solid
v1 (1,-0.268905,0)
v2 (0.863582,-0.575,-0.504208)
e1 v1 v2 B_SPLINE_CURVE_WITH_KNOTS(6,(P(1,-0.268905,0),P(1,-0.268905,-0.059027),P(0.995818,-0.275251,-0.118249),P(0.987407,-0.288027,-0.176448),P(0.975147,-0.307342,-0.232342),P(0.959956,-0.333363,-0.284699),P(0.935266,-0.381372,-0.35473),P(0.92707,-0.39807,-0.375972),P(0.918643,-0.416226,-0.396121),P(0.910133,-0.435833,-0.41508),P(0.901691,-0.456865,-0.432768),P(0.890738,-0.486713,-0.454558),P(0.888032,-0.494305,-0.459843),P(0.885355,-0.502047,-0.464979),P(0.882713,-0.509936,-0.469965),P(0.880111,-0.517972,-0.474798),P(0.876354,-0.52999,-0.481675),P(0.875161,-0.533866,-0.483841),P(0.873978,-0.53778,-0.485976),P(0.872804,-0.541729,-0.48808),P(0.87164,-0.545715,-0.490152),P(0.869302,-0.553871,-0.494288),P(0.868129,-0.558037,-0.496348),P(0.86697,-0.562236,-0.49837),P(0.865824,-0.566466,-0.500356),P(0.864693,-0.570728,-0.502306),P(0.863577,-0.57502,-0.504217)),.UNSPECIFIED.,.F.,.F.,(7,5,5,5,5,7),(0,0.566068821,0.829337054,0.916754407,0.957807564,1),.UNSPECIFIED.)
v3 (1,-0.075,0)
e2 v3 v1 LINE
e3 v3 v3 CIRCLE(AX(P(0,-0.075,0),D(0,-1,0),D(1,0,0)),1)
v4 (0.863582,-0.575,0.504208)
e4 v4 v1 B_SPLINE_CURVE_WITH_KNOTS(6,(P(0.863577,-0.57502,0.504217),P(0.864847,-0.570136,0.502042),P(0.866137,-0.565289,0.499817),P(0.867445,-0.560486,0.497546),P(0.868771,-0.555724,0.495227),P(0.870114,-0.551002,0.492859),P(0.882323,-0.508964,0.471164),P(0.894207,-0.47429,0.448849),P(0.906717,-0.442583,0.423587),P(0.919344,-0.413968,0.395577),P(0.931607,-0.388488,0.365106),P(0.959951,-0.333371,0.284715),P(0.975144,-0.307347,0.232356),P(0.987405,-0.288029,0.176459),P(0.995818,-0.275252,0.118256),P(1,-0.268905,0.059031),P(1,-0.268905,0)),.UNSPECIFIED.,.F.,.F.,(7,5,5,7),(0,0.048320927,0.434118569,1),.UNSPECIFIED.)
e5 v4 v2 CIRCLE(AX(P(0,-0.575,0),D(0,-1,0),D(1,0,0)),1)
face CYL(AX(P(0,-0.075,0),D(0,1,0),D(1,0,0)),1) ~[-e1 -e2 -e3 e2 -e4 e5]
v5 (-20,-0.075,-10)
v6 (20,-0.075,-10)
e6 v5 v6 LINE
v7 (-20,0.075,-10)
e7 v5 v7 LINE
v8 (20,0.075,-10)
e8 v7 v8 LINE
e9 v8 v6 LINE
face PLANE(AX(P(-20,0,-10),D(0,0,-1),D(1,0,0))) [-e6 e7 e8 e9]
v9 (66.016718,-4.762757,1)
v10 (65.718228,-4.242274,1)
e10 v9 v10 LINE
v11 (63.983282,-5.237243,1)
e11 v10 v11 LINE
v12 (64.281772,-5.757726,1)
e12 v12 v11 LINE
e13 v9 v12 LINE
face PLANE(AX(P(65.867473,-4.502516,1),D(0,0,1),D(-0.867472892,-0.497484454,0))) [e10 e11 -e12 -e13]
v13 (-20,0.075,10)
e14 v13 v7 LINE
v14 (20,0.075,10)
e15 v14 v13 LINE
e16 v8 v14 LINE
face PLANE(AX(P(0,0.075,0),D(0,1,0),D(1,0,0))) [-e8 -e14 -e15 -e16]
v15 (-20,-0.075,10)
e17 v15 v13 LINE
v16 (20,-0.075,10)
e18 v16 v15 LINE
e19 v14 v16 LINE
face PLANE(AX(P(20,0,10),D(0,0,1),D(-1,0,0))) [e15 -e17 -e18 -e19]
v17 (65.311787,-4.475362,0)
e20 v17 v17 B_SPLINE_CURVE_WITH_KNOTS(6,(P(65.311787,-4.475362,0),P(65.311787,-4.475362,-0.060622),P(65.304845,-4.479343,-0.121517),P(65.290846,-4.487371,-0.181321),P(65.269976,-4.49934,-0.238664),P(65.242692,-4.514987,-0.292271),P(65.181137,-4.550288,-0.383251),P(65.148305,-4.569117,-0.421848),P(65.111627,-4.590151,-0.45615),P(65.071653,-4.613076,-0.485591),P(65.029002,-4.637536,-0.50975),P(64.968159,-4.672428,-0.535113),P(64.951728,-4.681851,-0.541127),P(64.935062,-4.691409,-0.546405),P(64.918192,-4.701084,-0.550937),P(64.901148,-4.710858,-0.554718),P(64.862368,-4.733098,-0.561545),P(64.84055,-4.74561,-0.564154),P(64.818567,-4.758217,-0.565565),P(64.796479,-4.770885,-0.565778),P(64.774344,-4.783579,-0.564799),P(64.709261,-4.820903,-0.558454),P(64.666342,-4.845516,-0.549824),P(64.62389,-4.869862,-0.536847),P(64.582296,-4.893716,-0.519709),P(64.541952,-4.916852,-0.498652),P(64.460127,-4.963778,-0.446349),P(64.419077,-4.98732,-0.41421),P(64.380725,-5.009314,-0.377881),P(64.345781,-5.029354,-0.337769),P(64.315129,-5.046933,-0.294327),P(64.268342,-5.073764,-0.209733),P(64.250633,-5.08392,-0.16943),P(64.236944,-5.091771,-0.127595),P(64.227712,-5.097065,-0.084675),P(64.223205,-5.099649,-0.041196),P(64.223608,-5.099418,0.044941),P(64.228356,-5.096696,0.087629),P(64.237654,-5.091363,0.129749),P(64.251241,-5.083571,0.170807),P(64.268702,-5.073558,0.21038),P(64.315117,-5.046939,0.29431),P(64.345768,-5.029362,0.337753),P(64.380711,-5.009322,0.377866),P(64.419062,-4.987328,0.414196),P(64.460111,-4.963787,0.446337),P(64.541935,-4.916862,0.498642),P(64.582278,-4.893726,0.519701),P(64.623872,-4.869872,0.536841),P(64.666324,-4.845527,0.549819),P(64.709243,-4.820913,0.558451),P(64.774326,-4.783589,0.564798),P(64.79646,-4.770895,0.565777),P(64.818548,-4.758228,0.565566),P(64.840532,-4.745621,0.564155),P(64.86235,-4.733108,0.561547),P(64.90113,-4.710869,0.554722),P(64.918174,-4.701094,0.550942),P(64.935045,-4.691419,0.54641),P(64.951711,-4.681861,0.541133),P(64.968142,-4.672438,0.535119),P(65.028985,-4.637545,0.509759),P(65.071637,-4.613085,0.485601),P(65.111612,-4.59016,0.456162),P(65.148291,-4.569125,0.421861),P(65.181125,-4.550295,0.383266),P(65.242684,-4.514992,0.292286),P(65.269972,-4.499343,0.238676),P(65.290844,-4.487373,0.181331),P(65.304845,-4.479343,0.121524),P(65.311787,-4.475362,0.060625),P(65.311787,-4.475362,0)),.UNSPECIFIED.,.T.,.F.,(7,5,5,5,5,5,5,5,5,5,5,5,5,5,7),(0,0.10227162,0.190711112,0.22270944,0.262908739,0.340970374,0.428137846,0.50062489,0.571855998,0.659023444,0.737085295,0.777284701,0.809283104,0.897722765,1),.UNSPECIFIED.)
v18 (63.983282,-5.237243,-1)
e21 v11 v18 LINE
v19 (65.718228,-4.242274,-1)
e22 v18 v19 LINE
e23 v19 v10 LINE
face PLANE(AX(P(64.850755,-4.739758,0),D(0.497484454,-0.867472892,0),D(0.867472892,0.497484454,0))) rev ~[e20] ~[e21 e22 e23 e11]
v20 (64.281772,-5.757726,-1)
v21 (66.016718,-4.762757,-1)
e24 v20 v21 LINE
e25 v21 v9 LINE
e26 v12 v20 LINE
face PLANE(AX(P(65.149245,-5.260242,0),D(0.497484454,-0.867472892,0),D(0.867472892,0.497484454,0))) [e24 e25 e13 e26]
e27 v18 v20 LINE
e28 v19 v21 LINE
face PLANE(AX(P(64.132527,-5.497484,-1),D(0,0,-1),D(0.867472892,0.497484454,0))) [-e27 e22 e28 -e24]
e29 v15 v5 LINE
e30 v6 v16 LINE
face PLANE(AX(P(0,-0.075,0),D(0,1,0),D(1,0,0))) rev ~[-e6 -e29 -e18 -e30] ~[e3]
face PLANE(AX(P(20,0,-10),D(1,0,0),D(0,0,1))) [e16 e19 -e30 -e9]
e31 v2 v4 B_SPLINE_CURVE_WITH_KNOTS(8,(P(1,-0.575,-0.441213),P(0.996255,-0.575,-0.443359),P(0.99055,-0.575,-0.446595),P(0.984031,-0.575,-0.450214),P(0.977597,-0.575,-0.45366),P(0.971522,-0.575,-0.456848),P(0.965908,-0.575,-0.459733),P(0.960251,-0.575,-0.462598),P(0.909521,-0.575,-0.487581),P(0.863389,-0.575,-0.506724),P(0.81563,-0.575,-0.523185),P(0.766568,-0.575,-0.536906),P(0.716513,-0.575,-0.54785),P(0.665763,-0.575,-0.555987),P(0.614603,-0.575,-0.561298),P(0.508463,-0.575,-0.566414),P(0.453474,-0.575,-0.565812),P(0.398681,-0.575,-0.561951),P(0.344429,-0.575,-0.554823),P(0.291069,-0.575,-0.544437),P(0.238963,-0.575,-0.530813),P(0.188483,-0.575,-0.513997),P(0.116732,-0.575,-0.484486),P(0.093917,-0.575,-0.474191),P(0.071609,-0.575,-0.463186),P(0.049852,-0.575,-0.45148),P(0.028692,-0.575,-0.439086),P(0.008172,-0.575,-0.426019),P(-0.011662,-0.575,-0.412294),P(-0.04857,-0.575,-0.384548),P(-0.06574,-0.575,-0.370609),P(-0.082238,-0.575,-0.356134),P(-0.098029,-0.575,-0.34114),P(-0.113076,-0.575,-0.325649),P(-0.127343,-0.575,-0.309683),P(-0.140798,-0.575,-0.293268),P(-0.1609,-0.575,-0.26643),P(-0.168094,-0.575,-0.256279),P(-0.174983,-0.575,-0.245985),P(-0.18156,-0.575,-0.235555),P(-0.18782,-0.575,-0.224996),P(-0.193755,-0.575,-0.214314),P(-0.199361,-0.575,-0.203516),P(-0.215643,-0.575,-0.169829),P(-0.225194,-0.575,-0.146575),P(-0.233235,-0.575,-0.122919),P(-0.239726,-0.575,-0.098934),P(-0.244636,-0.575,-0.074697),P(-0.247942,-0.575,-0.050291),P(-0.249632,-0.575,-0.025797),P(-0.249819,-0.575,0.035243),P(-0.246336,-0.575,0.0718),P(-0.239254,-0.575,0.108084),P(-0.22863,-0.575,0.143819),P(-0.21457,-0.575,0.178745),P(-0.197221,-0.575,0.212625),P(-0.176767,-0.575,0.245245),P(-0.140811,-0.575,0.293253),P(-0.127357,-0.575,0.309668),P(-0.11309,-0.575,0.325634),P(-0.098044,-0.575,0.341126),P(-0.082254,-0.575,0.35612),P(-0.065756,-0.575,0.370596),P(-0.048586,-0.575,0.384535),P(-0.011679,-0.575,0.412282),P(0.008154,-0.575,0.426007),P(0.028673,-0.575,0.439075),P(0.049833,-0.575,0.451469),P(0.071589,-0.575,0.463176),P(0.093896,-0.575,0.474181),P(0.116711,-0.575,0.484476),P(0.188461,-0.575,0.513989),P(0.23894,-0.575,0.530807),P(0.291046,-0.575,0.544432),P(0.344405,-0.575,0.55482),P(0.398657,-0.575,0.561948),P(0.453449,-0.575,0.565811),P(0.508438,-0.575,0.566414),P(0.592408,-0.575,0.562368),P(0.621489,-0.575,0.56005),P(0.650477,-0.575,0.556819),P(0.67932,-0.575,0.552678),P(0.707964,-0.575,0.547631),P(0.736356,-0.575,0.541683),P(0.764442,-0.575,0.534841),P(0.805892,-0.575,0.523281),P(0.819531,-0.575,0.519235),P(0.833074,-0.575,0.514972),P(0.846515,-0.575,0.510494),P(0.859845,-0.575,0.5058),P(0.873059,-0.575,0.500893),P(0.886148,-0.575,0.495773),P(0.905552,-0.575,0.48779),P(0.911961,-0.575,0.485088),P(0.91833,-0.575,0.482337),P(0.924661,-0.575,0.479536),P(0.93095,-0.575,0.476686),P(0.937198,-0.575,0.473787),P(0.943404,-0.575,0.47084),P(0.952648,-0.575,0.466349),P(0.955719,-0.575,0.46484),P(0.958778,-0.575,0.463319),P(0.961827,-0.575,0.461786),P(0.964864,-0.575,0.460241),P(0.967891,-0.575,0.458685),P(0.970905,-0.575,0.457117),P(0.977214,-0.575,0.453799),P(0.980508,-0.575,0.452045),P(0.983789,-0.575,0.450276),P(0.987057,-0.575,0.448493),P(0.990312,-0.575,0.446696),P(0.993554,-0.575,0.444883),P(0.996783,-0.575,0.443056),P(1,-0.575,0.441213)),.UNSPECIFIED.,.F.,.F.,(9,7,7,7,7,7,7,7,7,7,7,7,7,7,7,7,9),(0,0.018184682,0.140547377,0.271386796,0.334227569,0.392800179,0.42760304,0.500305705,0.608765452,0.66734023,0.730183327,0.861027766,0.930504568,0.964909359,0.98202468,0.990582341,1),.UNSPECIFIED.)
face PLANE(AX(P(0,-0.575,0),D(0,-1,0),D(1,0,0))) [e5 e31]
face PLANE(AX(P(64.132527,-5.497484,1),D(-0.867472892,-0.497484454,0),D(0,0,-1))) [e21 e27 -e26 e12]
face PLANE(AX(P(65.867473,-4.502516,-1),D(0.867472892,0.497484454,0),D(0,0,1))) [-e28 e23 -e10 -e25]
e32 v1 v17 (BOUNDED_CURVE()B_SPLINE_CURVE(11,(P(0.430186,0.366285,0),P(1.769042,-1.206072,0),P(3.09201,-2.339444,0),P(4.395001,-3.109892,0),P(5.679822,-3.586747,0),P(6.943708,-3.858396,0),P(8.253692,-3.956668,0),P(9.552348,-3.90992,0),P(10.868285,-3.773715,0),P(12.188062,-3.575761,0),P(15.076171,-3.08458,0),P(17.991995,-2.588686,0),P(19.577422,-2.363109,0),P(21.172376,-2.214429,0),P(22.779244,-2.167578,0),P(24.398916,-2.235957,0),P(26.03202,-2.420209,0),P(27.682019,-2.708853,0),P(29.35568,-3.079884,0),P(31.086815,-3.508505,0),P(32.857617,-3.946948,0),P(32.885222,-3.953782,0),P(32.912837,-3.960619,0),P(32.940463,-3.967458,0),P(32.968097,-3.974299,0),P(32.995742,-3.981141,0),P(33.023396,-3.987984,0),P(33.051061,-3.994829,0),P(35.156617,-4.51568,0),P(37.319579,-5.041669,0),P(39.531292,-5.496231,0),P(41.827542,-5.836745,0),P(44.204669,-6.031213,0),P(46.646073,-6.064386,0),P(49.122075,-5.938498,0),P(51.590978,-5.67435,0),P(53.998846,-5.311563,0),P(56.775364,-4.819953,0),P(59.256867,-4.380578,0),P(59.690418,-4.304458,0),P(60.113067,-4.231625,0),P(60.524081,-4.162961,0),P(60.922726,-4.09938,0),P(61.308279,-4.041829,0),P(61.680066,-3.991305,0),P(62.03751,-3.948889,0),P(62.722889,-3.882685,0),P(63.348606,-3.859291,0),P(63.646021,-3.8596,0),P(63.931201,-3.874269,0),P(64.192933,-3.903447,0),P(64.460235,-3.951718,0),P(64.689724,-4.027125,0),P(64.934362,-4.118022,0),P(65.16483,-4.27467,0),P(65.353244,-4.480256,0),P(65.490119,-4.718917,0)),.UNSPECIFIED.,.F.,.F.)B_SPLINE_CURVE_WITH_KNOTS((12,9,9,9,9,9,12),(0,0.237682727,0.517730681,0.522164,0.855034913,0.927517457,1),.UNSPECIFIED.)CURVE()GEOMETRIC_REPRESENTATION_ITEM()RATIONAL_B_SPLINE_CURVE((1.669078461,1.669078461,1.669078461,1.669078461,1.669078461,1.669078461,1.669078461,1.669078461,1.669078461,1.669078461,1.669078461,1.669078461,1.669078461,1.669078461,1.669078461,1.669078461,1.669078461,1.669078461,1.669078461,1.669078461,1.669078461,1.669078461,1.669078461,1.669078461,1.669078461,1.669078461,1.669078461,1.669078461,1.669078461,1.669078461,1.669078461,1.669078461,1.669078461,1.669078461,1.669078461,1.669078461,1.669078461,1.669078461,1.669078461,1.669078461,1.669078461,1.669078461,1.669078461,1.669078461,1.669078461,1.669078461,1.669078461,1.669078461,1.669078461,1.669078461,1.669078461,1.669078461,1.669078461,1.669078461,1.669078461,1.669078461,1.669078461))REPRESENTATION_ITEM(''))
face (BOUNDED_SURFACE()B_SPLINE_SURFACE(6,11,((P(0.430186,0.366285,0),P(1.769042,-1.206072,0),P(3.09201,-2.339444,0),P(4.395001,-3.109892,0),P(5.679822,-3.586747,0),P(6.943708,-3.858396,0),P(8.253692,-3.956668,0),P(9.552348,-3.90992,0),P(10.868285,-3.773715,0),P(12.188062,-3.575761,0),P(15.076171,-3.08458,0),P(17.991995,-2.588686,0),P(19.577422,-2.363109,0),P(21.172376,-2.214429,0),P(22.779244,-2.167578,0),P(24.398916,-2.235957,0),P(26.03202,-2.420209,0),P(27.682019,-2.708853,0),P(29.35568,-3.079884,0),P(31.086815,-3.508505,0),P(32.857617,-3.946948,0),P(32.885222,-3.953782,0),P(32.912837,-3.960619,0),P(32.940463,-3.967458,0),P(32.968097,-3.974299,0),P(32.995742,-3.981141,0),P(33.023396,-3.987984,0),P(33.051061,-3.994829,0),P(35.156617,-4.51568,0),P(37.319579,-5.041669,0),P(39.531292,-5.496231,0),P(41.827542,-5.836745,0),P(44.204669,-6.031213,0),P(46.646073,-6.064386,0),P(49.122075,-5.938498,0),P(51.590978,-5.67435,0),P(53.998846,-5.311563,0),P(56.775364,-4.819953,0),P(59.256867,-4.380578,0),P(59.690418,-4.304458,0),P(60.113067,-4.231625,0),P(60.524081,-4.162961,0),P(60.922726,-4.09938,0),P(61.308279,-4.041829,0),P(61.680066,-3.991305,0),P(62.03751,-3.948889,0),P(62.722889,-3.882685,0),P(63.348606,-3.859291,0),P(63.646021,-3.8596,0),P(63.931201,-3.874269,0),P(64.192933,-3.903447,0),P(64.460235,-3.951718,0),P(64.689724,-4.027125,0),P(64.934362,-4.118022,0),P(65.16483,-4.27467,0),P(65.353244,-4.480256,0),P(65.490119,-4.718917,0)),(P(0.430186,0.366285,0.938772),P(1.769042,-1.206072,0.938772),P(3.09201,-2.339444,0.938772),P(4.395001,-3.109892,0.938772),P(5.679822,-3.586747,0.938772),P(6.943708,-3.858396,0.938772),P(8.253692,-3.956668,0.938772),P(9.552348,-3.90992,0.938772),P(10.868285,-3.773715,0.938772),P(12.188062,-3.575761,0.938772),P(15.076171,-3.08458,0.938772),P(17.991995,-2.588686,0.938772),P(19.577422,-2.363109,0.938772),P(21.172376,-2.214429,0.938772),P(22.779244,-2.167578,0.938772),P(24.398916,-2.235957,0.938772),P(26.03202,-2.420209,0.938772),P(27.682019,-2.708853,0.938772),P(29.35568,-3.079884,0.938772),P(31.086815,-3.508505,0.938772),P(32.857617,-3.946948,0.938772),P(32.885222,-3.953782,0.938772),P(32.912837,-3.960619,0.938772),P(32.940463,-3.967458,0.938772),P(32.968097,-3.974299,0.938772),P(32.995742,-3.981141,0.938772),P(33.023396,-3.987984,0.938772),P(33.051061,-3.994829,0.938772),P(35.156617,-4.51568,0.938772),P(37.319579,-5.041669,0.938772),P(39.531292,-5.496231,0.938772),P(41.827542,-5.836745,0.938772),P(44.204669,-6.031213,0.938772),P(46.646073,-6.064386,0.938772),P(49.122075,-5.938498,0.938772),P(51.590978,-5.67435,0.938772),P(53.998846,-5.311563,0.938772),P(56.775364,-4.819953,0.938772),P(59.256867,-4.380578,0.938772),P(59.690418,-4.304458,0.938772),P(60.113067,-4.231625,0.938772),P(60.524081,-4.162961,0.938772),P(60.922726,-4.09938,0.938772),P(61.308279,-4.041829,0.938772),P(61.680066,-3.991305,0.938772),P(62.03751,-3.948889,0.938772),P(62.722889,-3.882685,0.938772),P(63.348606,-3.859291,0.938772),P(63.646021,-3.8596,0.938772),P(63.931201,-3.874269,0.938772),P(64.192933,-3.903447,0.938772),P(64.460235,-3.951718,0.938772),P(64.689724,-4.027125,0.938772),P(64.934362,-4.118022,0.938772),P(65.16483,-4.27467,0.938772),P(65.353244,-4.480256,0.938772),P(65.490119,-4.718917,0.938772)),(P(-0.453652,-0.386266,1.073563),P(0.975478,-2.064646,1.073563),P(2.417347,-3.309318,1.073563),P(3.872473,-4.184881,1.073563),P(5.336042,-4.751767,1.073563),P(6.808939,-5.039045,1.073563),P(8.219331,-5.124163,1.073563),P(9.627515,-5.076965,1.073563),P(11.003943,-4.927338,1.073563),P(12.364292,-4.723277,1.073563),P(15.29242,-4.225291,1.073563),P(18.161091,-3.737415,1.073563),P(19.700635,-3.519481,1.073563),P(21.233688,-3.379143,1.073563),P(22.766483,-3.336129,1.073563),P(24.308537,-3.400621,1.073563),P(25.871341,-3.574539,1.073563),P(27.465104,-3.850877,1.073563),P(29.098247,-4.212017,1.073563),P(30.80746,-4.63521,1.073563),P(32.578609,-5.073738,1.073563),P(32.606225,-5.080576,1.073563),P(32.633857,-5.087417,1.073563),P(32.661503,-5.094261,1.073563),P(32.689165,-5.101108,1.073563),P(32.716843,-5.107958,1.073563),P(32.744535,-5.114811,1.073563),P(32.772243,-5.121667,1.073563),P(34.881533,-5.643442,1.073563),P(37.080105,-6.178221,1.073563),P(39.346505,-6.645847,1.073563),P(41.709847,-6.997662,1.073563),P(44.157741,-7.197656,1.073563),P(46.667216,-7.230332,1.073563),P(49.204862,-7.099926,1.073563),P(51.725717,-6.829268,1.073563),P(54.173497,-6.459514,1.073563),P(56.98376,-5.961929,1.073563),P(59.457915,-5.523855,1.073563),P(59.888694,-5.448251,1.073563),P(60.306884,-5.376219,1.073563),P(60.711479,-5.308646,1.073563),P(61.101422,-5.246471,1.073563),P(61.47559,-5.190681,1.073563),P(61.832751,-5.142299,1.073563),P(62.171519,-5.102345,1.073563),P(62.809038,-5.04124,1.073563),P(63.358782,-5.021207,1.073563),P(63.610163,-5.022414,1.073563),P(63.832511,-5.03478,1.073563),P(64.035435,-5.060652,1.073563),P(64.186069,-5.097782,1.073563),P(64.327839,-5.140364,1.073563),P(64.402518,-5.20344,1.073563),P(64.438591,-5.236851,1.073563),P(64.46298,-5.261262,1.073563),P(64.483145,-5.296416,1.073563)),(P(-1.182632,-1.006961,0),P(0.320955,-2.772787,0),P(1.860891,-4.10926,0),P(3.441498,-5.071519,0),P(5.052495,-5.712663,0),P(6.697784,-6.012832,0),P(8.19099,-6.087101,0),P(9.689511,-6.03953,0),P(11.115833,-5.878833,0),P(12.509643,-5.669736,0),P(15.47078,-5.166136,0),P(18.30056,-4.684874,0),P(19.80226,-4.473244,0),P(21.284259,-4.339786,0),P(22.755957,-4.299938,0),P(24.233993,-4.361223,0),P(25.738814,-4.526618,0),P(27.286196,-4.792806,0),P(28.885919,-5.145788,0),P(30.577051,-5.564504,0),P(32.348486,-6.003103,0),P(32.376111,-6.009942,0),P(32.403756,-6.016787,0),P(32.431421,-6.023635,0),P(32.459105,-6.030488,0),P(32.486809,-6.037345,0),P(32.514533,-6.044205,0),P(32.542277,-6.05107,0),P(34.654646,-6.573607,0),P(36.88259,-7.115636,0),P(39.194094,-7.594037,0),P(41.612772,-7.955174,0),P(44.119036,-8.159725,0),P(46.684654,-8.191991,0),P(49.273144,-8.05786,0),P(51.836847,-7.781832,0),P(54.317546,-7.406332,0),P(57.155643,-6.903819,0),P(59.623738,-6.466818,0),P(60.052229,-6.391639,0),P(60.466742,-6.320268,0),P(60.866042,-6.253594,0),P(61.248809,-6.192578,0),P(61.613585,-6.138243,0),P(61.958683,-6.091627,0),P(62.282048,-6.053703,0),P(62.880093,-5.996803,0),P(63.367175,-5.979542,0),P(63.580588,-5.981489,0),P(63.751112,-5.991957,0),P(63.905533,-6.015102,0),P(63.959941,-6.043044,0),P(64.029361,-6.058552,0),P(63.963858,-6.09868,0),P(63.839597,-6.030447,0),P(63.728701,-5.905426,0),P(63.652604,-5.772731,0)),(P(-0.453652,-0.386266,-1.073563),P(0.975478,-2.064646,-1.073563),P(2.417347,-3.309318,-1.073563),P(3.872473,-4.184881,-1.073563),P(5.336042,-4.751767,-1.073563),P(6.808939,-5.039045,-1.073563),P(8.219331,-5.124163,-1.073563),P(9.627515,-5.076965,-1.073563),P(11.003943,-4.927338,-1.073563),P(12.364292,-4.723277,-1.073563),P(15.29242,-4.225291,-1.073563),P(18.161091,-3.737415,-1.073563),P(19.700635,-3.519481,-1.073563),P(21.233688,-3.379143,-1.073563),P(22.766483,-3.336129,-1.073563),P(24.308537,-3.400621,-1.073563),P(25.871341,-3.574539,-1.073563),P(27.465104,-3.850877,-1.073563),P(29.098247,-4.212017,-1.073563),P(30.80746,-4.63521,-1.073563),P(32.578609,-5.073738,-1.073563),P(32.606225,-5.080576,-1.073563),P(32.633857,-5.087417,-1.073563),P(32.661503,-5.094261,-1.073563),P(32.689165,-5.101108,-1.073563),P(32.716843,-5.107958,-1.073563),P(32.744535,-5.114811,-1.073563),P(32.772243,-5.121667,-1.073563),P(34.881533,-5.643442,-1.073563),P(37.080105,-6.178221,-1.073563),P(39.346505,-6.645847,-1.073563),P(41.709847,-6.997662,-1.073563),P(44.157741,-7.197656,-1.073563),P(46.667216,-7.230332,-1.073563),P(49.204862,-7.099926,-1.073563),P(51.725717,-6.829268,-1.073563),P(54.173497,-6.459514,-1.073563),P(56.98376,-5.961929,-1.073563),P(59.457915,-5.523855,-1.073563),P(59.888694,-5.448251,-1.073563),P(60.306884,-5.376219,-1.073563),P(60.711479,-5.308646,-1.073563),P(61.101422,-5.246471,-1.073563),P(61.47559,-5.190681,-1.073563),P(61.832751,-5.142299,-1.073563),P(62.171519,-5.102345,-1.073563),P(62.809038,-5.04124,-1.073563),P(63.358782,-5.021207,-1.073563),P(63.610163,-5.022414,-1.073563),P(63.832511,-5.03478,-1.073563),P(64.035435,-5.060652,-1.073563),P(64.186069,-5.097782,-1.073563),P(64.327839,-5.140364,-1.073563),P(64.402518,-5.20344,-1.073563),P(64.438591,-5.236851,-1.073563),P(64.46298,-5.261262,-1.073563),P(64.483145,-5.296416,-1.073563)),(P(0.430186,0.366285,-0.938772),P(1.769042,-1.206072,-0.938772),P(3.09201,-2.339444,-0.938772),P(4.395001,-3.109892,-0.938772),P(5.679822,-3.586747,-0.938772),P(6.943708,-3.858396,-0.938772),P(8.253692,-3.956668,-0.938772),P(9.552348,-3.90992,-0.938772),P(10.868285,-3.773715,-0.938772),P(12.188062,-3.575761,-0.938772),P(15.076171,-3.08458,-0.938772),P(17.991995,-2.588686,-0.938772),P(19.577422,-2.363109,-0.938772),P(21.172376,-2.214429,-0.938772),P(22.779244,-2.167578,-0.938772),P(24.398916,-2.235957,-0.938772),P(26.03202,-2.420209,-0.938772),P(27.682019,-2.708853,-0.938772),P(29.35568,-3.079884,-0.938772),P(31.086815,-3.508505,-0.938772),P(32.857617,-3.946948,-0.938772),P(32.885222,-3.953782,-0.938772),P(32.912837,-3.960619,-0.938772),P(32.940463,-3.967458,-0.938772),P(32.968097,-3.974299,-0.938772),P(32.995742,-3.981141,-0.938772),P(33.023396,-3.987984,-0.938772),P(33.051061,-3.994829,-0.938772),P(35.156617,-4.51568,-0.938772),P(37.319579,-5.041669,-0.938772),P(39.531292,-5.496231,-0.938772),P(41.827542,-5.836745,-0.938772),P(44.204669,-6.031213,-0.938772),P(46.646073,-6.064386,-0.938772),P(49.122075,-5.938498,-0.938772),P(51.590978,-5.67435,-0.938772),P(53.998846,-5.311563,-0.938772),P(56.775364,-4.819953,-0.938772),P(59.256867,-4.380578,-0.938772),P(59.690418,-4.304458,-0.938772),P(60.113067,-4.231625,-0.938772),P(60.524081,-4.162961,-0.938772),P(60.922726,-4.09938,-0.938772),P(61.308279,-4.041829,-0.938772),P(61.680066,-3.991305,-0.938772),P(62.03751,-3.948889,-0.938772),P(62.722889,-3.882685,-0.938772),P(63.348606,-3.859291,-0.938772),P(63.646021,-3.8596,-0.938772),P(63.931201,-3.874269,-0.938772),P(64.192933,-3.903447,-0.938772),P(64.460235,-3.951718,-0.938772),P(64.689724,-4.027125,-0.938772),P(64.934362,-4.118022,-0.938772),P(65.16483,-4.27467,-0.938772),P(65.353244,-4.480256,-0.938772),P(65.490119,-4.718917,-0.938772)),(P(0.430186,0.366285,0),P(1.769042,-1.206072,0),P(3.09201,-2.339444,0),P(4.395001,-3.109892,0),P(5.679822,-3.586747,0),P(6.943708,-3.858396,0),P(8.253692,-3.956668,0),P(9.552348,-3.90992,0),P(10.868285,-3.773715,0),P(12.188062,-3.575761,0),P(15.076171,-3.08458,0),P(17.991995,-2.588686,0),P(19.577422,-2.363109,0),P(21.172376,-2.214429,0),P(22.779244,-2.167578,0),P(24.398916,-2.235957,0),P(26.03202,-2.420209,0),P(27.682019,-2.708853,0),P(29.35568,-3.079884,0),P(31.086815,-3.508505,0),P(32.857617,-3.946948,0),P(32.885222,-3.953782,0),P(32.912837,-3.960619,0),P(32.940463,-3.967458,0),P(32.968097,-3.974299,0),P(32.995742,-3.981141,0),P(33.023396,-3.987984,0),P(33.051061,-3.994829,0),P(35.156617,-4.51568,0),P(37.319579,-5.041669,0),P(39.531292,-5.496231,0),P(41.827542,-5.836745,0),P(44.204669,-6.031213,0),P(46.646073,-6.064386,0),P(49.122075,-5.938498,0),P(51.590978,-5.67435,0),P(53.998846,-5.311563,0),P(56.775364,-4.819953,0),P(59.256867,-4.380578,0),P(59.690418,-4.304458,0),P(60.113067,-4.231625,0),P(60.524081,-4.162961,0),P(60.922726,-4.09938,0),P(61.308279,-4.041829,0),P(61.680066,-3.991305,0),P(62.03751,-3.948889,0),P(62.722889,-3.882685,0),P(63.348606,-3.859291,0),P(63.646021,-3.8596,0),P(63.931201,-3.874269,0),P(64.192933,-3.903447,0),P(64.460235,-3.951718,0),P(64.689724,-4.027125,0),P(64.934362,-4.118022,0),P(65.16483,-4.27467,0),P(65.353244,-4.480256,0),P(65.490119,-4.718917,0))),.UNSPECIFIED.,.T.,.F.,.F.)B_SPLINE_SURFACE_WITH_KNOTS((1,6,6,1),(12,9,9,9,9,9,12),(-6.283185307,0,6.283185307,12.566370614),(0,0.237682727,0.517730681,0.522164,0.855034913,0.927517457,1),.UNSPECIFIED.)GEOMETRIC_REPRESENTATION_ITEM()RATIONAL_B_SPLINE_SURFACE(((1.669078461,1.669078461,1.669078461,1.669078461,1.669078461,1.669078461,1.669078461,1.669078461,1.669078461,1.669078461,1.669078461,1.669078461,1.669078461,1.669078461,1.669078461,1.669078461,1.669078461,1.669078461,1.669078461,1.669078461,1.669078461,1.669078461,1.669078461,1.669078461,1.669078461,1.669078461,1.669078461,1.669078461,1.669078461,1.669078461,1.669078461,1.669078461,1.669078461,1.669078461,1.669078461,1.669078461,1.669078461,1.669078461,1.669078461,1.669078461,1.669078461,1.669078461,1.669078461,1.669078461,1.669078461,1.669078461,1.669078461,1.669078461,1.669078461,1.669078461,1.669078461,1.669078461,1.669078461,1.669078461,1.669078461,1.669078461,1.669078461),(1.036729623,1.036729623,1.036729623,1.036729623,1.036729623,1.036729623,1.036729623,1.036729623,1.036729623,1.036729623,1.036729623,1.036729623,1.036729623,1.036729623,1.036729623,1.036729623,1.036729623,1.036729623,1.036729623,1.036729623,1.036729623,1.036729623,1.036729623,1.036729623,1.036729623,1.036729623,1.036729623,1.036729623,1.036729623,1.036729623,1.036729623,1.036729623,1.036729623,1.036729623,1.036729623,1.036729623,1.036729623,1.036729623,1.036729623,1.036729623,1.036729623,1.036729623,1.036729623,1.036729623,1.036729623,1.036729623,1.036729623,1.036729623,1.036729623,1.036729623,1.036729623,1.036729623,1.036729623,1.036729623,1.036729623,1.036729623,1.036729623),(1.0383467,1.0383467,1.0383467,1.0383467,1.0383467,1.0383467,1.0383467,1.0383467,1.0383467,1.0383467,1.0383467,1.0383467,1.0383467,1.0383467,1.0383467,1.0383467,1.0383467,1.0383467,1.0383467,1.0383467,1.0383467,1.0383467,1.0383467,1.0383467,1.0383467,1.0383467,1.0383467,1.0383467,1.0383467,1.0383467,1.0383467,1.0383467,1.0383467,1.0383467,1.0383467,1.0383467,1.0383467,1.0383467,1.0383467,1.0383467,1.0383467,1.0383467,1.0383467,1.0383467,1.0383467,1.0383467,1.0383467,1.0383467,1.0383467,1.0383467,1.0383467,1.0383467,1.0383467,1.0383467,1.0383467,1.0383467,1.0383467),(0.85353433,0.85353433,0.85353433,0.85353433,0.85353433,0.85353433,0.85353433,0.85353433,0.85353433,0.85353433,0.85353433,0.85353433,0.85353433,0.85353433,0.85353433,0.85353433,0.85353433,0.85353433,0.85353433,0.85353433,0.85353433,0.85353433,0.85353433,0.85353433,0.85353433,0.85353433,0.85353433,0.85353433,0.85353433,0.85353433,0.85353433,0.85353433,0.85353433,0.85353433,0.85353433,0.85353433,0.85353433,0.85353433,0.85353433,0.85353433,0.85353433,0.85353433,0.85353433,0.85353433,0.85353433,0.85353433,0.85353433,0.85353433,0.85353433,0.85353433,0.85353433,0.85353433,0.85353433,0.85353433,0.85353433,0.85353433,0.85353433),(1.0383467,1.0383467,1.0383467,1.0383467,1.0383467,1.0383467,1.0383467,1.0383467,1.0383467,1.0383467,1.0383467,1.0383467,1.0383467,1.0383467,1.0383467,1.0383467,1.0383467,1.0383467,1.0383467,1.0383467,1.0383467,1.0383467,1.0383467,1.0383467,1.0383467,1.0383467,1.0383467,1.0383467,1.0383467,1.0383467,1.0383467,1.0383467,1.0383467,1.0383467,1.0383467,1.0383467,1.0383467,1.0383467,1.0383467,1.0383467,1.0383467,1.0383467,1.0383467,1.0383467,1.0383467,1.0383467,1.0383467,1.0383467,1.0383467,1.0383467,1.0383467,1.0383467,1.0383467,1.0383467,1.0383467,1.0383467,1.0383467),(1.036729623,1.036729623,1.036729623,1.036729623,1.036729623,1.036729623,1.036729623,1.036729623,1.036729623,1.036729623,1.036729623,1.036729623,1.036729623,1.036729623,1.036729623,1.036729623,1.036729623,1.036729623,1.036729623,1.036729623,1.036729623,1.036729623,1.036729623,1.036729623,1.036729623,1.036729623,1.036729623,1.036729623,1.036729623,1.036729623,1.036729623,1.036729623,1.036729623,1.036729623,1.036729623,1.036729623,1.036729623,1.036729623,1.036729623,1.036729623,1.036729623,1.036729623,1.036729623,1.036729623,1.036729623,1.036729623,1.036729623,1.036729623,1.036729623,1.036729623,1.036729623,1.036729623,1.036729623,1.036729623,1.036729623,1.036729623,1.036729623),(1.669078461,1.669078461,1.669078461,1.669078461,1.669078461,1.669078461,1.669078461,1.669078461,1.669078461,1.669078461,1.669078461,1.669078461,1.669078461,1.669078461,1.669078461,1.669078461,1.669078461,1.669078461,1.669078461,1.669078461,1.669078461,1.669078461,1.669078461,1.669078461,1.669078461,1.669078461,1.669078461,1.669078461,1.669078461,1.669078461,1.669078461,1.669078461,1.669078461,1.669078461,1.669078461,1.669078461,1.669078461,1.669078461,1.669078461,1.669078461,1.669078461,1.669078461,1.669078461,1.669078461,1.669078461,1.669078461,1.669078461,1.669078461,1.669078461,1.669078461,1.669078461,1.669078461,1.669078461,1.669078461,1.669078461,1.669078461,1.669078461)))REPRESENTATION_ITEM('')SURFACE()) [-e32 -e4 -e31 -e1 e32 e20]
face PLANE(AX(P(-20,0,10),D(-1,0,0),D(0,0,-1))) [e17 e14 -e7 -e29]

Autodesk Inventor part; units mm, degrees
ref_plane "YZ Plane" through (0, 0, 0) normal (1, 0, 0) x (0, 1, 0)
ref_plane "XZ Plane" through (0, 0, 0) normal (0, 1, 0) x (-1, 0, 0)
sketch "Esboço1" plane through (0, 0, 0) normal (0, 1, 0) x (1, 0, 0)
  line L0 (-20, 10) -> (20, 10)
  line L1 (20, 10) -> (20, -10)
  line L2 (20, -10) -> (-20, -10)
  line L3 (-20, -10) -> (-20, 10)
  line L4 (-20, 10) -> (20, -10) construction
  line L5 (20, 10) -> (-20, -10) construction
  point P0 (0, 0)
  dimension "d0" = 40
  dimension "d1" = 20
extrude "Extrusão1" add sketch "Esboço1" along normal mid plane 0.15
sketch "Esboço2" plane through (0, 0, 0) normal (0, 0, 1) x (1, 0, 0)
  spline S0 degree 4 poles (0, 0) (8.3541, -9.8111) (24.1875, 8.376) (36.7418, -15.686) (63.5484, -2.469) (65, -5) knots 0 0 0 0 0 0.522164 1 1 1 1 1
  point P0 (13, -4)
  point P1 (25, -3)
  point P2 (40, -6)
  point P3 (59, -5)
  dimension "d7" = 65
  dimension "d8" = 6
  dimension "d9" = 19
  dimension "d10" = 15
  dimension "d11" = 12
  dimension "d12" = 4
  dimension "d13" = 3
  dimension "d14" = 6
  dimension "d15" = 5
  dimension "d17" = 5
ref_plane "Plano de trabalho1" through (0, 0, 0) normal (0.6483, -0.7614, 0) x (0.7614, 0.6483, 0)
sketch "Esboço3" plane through (0, 0, 0) normal (0.6483, -0.7614, 0) x (0.7614, 0.6483, 0)
  circle A0 centre (0, 0) radius 0.565
  dimension "d4" = 1.13
sweep "Varredura1" add profiles "Esboço3" path "Esboço2"
sketch "Esboço4" plane through (0, -0.075, 0) normal (0, -1, 0) x (1, 0, 0)
  circle A0 centre (0, 0) radius 1
  dimension "d18" = 2
extrude "Extrusão2" add sketch "Esboço4" along normal mid plane 1
sketch "Esboço5" plane through (0, 0.075, 0) normal (0, 1, 0) x (1, 0, 0)
  line L0 (-1.25, 1.25) -> (1.25, 1.25)
  line L1 (1.25, 1.25) -> (1.25, -1.25)
  line L2 (1.25, -1.25) -> (-1.25, -1.25)
  line L3 (-1.25, -1.25) -> (-1.25, 1.25)
  arc A0 (0.8636, 0.5042) -> (0.8636, -0.5042) centre (0, 0) ccw projected
  line L4 (-1.25, 1.25) -> (1.25, -1.25) construction
  line L5 (1.25, 1.25) -> (-1.25, -1.25) construction
  dimension "d21" = 2.5
  dimension "d22" = 2.5
extrude "Extrusão3" cut sketch "Esboço5" along normal blind 0.6
sketch "Esboço6" plane through (65, -5, 0) normal (0.4975, -0.8675, 0) x (0.8675, 0.4975, 0)
  line L0 (-1, -1) -> (1, -1)
  line L1 (1, -1) -> (1, 1)
  line L2 (1, 1) -> (-1, 1)
  line L3 (-1, 1) -> (-1, -1)
  circle A0 centre (0, 0) radius 0.565 projected
  line L4 (-1, -1) -> (1, 1) construction
  line L5 (1, -1) -> (-1, 1) construction
  point P0 (-53.8975, 0)
  point P1 (0.565, 0)
  dimension "d25" = 2
  dimension "d26" = 2
extrude "Extrusão4" add sketch "Esboço6" along normal mid plane 0.6 contours L3 L2 L1 L0 | A0
properties part number "Antena"
